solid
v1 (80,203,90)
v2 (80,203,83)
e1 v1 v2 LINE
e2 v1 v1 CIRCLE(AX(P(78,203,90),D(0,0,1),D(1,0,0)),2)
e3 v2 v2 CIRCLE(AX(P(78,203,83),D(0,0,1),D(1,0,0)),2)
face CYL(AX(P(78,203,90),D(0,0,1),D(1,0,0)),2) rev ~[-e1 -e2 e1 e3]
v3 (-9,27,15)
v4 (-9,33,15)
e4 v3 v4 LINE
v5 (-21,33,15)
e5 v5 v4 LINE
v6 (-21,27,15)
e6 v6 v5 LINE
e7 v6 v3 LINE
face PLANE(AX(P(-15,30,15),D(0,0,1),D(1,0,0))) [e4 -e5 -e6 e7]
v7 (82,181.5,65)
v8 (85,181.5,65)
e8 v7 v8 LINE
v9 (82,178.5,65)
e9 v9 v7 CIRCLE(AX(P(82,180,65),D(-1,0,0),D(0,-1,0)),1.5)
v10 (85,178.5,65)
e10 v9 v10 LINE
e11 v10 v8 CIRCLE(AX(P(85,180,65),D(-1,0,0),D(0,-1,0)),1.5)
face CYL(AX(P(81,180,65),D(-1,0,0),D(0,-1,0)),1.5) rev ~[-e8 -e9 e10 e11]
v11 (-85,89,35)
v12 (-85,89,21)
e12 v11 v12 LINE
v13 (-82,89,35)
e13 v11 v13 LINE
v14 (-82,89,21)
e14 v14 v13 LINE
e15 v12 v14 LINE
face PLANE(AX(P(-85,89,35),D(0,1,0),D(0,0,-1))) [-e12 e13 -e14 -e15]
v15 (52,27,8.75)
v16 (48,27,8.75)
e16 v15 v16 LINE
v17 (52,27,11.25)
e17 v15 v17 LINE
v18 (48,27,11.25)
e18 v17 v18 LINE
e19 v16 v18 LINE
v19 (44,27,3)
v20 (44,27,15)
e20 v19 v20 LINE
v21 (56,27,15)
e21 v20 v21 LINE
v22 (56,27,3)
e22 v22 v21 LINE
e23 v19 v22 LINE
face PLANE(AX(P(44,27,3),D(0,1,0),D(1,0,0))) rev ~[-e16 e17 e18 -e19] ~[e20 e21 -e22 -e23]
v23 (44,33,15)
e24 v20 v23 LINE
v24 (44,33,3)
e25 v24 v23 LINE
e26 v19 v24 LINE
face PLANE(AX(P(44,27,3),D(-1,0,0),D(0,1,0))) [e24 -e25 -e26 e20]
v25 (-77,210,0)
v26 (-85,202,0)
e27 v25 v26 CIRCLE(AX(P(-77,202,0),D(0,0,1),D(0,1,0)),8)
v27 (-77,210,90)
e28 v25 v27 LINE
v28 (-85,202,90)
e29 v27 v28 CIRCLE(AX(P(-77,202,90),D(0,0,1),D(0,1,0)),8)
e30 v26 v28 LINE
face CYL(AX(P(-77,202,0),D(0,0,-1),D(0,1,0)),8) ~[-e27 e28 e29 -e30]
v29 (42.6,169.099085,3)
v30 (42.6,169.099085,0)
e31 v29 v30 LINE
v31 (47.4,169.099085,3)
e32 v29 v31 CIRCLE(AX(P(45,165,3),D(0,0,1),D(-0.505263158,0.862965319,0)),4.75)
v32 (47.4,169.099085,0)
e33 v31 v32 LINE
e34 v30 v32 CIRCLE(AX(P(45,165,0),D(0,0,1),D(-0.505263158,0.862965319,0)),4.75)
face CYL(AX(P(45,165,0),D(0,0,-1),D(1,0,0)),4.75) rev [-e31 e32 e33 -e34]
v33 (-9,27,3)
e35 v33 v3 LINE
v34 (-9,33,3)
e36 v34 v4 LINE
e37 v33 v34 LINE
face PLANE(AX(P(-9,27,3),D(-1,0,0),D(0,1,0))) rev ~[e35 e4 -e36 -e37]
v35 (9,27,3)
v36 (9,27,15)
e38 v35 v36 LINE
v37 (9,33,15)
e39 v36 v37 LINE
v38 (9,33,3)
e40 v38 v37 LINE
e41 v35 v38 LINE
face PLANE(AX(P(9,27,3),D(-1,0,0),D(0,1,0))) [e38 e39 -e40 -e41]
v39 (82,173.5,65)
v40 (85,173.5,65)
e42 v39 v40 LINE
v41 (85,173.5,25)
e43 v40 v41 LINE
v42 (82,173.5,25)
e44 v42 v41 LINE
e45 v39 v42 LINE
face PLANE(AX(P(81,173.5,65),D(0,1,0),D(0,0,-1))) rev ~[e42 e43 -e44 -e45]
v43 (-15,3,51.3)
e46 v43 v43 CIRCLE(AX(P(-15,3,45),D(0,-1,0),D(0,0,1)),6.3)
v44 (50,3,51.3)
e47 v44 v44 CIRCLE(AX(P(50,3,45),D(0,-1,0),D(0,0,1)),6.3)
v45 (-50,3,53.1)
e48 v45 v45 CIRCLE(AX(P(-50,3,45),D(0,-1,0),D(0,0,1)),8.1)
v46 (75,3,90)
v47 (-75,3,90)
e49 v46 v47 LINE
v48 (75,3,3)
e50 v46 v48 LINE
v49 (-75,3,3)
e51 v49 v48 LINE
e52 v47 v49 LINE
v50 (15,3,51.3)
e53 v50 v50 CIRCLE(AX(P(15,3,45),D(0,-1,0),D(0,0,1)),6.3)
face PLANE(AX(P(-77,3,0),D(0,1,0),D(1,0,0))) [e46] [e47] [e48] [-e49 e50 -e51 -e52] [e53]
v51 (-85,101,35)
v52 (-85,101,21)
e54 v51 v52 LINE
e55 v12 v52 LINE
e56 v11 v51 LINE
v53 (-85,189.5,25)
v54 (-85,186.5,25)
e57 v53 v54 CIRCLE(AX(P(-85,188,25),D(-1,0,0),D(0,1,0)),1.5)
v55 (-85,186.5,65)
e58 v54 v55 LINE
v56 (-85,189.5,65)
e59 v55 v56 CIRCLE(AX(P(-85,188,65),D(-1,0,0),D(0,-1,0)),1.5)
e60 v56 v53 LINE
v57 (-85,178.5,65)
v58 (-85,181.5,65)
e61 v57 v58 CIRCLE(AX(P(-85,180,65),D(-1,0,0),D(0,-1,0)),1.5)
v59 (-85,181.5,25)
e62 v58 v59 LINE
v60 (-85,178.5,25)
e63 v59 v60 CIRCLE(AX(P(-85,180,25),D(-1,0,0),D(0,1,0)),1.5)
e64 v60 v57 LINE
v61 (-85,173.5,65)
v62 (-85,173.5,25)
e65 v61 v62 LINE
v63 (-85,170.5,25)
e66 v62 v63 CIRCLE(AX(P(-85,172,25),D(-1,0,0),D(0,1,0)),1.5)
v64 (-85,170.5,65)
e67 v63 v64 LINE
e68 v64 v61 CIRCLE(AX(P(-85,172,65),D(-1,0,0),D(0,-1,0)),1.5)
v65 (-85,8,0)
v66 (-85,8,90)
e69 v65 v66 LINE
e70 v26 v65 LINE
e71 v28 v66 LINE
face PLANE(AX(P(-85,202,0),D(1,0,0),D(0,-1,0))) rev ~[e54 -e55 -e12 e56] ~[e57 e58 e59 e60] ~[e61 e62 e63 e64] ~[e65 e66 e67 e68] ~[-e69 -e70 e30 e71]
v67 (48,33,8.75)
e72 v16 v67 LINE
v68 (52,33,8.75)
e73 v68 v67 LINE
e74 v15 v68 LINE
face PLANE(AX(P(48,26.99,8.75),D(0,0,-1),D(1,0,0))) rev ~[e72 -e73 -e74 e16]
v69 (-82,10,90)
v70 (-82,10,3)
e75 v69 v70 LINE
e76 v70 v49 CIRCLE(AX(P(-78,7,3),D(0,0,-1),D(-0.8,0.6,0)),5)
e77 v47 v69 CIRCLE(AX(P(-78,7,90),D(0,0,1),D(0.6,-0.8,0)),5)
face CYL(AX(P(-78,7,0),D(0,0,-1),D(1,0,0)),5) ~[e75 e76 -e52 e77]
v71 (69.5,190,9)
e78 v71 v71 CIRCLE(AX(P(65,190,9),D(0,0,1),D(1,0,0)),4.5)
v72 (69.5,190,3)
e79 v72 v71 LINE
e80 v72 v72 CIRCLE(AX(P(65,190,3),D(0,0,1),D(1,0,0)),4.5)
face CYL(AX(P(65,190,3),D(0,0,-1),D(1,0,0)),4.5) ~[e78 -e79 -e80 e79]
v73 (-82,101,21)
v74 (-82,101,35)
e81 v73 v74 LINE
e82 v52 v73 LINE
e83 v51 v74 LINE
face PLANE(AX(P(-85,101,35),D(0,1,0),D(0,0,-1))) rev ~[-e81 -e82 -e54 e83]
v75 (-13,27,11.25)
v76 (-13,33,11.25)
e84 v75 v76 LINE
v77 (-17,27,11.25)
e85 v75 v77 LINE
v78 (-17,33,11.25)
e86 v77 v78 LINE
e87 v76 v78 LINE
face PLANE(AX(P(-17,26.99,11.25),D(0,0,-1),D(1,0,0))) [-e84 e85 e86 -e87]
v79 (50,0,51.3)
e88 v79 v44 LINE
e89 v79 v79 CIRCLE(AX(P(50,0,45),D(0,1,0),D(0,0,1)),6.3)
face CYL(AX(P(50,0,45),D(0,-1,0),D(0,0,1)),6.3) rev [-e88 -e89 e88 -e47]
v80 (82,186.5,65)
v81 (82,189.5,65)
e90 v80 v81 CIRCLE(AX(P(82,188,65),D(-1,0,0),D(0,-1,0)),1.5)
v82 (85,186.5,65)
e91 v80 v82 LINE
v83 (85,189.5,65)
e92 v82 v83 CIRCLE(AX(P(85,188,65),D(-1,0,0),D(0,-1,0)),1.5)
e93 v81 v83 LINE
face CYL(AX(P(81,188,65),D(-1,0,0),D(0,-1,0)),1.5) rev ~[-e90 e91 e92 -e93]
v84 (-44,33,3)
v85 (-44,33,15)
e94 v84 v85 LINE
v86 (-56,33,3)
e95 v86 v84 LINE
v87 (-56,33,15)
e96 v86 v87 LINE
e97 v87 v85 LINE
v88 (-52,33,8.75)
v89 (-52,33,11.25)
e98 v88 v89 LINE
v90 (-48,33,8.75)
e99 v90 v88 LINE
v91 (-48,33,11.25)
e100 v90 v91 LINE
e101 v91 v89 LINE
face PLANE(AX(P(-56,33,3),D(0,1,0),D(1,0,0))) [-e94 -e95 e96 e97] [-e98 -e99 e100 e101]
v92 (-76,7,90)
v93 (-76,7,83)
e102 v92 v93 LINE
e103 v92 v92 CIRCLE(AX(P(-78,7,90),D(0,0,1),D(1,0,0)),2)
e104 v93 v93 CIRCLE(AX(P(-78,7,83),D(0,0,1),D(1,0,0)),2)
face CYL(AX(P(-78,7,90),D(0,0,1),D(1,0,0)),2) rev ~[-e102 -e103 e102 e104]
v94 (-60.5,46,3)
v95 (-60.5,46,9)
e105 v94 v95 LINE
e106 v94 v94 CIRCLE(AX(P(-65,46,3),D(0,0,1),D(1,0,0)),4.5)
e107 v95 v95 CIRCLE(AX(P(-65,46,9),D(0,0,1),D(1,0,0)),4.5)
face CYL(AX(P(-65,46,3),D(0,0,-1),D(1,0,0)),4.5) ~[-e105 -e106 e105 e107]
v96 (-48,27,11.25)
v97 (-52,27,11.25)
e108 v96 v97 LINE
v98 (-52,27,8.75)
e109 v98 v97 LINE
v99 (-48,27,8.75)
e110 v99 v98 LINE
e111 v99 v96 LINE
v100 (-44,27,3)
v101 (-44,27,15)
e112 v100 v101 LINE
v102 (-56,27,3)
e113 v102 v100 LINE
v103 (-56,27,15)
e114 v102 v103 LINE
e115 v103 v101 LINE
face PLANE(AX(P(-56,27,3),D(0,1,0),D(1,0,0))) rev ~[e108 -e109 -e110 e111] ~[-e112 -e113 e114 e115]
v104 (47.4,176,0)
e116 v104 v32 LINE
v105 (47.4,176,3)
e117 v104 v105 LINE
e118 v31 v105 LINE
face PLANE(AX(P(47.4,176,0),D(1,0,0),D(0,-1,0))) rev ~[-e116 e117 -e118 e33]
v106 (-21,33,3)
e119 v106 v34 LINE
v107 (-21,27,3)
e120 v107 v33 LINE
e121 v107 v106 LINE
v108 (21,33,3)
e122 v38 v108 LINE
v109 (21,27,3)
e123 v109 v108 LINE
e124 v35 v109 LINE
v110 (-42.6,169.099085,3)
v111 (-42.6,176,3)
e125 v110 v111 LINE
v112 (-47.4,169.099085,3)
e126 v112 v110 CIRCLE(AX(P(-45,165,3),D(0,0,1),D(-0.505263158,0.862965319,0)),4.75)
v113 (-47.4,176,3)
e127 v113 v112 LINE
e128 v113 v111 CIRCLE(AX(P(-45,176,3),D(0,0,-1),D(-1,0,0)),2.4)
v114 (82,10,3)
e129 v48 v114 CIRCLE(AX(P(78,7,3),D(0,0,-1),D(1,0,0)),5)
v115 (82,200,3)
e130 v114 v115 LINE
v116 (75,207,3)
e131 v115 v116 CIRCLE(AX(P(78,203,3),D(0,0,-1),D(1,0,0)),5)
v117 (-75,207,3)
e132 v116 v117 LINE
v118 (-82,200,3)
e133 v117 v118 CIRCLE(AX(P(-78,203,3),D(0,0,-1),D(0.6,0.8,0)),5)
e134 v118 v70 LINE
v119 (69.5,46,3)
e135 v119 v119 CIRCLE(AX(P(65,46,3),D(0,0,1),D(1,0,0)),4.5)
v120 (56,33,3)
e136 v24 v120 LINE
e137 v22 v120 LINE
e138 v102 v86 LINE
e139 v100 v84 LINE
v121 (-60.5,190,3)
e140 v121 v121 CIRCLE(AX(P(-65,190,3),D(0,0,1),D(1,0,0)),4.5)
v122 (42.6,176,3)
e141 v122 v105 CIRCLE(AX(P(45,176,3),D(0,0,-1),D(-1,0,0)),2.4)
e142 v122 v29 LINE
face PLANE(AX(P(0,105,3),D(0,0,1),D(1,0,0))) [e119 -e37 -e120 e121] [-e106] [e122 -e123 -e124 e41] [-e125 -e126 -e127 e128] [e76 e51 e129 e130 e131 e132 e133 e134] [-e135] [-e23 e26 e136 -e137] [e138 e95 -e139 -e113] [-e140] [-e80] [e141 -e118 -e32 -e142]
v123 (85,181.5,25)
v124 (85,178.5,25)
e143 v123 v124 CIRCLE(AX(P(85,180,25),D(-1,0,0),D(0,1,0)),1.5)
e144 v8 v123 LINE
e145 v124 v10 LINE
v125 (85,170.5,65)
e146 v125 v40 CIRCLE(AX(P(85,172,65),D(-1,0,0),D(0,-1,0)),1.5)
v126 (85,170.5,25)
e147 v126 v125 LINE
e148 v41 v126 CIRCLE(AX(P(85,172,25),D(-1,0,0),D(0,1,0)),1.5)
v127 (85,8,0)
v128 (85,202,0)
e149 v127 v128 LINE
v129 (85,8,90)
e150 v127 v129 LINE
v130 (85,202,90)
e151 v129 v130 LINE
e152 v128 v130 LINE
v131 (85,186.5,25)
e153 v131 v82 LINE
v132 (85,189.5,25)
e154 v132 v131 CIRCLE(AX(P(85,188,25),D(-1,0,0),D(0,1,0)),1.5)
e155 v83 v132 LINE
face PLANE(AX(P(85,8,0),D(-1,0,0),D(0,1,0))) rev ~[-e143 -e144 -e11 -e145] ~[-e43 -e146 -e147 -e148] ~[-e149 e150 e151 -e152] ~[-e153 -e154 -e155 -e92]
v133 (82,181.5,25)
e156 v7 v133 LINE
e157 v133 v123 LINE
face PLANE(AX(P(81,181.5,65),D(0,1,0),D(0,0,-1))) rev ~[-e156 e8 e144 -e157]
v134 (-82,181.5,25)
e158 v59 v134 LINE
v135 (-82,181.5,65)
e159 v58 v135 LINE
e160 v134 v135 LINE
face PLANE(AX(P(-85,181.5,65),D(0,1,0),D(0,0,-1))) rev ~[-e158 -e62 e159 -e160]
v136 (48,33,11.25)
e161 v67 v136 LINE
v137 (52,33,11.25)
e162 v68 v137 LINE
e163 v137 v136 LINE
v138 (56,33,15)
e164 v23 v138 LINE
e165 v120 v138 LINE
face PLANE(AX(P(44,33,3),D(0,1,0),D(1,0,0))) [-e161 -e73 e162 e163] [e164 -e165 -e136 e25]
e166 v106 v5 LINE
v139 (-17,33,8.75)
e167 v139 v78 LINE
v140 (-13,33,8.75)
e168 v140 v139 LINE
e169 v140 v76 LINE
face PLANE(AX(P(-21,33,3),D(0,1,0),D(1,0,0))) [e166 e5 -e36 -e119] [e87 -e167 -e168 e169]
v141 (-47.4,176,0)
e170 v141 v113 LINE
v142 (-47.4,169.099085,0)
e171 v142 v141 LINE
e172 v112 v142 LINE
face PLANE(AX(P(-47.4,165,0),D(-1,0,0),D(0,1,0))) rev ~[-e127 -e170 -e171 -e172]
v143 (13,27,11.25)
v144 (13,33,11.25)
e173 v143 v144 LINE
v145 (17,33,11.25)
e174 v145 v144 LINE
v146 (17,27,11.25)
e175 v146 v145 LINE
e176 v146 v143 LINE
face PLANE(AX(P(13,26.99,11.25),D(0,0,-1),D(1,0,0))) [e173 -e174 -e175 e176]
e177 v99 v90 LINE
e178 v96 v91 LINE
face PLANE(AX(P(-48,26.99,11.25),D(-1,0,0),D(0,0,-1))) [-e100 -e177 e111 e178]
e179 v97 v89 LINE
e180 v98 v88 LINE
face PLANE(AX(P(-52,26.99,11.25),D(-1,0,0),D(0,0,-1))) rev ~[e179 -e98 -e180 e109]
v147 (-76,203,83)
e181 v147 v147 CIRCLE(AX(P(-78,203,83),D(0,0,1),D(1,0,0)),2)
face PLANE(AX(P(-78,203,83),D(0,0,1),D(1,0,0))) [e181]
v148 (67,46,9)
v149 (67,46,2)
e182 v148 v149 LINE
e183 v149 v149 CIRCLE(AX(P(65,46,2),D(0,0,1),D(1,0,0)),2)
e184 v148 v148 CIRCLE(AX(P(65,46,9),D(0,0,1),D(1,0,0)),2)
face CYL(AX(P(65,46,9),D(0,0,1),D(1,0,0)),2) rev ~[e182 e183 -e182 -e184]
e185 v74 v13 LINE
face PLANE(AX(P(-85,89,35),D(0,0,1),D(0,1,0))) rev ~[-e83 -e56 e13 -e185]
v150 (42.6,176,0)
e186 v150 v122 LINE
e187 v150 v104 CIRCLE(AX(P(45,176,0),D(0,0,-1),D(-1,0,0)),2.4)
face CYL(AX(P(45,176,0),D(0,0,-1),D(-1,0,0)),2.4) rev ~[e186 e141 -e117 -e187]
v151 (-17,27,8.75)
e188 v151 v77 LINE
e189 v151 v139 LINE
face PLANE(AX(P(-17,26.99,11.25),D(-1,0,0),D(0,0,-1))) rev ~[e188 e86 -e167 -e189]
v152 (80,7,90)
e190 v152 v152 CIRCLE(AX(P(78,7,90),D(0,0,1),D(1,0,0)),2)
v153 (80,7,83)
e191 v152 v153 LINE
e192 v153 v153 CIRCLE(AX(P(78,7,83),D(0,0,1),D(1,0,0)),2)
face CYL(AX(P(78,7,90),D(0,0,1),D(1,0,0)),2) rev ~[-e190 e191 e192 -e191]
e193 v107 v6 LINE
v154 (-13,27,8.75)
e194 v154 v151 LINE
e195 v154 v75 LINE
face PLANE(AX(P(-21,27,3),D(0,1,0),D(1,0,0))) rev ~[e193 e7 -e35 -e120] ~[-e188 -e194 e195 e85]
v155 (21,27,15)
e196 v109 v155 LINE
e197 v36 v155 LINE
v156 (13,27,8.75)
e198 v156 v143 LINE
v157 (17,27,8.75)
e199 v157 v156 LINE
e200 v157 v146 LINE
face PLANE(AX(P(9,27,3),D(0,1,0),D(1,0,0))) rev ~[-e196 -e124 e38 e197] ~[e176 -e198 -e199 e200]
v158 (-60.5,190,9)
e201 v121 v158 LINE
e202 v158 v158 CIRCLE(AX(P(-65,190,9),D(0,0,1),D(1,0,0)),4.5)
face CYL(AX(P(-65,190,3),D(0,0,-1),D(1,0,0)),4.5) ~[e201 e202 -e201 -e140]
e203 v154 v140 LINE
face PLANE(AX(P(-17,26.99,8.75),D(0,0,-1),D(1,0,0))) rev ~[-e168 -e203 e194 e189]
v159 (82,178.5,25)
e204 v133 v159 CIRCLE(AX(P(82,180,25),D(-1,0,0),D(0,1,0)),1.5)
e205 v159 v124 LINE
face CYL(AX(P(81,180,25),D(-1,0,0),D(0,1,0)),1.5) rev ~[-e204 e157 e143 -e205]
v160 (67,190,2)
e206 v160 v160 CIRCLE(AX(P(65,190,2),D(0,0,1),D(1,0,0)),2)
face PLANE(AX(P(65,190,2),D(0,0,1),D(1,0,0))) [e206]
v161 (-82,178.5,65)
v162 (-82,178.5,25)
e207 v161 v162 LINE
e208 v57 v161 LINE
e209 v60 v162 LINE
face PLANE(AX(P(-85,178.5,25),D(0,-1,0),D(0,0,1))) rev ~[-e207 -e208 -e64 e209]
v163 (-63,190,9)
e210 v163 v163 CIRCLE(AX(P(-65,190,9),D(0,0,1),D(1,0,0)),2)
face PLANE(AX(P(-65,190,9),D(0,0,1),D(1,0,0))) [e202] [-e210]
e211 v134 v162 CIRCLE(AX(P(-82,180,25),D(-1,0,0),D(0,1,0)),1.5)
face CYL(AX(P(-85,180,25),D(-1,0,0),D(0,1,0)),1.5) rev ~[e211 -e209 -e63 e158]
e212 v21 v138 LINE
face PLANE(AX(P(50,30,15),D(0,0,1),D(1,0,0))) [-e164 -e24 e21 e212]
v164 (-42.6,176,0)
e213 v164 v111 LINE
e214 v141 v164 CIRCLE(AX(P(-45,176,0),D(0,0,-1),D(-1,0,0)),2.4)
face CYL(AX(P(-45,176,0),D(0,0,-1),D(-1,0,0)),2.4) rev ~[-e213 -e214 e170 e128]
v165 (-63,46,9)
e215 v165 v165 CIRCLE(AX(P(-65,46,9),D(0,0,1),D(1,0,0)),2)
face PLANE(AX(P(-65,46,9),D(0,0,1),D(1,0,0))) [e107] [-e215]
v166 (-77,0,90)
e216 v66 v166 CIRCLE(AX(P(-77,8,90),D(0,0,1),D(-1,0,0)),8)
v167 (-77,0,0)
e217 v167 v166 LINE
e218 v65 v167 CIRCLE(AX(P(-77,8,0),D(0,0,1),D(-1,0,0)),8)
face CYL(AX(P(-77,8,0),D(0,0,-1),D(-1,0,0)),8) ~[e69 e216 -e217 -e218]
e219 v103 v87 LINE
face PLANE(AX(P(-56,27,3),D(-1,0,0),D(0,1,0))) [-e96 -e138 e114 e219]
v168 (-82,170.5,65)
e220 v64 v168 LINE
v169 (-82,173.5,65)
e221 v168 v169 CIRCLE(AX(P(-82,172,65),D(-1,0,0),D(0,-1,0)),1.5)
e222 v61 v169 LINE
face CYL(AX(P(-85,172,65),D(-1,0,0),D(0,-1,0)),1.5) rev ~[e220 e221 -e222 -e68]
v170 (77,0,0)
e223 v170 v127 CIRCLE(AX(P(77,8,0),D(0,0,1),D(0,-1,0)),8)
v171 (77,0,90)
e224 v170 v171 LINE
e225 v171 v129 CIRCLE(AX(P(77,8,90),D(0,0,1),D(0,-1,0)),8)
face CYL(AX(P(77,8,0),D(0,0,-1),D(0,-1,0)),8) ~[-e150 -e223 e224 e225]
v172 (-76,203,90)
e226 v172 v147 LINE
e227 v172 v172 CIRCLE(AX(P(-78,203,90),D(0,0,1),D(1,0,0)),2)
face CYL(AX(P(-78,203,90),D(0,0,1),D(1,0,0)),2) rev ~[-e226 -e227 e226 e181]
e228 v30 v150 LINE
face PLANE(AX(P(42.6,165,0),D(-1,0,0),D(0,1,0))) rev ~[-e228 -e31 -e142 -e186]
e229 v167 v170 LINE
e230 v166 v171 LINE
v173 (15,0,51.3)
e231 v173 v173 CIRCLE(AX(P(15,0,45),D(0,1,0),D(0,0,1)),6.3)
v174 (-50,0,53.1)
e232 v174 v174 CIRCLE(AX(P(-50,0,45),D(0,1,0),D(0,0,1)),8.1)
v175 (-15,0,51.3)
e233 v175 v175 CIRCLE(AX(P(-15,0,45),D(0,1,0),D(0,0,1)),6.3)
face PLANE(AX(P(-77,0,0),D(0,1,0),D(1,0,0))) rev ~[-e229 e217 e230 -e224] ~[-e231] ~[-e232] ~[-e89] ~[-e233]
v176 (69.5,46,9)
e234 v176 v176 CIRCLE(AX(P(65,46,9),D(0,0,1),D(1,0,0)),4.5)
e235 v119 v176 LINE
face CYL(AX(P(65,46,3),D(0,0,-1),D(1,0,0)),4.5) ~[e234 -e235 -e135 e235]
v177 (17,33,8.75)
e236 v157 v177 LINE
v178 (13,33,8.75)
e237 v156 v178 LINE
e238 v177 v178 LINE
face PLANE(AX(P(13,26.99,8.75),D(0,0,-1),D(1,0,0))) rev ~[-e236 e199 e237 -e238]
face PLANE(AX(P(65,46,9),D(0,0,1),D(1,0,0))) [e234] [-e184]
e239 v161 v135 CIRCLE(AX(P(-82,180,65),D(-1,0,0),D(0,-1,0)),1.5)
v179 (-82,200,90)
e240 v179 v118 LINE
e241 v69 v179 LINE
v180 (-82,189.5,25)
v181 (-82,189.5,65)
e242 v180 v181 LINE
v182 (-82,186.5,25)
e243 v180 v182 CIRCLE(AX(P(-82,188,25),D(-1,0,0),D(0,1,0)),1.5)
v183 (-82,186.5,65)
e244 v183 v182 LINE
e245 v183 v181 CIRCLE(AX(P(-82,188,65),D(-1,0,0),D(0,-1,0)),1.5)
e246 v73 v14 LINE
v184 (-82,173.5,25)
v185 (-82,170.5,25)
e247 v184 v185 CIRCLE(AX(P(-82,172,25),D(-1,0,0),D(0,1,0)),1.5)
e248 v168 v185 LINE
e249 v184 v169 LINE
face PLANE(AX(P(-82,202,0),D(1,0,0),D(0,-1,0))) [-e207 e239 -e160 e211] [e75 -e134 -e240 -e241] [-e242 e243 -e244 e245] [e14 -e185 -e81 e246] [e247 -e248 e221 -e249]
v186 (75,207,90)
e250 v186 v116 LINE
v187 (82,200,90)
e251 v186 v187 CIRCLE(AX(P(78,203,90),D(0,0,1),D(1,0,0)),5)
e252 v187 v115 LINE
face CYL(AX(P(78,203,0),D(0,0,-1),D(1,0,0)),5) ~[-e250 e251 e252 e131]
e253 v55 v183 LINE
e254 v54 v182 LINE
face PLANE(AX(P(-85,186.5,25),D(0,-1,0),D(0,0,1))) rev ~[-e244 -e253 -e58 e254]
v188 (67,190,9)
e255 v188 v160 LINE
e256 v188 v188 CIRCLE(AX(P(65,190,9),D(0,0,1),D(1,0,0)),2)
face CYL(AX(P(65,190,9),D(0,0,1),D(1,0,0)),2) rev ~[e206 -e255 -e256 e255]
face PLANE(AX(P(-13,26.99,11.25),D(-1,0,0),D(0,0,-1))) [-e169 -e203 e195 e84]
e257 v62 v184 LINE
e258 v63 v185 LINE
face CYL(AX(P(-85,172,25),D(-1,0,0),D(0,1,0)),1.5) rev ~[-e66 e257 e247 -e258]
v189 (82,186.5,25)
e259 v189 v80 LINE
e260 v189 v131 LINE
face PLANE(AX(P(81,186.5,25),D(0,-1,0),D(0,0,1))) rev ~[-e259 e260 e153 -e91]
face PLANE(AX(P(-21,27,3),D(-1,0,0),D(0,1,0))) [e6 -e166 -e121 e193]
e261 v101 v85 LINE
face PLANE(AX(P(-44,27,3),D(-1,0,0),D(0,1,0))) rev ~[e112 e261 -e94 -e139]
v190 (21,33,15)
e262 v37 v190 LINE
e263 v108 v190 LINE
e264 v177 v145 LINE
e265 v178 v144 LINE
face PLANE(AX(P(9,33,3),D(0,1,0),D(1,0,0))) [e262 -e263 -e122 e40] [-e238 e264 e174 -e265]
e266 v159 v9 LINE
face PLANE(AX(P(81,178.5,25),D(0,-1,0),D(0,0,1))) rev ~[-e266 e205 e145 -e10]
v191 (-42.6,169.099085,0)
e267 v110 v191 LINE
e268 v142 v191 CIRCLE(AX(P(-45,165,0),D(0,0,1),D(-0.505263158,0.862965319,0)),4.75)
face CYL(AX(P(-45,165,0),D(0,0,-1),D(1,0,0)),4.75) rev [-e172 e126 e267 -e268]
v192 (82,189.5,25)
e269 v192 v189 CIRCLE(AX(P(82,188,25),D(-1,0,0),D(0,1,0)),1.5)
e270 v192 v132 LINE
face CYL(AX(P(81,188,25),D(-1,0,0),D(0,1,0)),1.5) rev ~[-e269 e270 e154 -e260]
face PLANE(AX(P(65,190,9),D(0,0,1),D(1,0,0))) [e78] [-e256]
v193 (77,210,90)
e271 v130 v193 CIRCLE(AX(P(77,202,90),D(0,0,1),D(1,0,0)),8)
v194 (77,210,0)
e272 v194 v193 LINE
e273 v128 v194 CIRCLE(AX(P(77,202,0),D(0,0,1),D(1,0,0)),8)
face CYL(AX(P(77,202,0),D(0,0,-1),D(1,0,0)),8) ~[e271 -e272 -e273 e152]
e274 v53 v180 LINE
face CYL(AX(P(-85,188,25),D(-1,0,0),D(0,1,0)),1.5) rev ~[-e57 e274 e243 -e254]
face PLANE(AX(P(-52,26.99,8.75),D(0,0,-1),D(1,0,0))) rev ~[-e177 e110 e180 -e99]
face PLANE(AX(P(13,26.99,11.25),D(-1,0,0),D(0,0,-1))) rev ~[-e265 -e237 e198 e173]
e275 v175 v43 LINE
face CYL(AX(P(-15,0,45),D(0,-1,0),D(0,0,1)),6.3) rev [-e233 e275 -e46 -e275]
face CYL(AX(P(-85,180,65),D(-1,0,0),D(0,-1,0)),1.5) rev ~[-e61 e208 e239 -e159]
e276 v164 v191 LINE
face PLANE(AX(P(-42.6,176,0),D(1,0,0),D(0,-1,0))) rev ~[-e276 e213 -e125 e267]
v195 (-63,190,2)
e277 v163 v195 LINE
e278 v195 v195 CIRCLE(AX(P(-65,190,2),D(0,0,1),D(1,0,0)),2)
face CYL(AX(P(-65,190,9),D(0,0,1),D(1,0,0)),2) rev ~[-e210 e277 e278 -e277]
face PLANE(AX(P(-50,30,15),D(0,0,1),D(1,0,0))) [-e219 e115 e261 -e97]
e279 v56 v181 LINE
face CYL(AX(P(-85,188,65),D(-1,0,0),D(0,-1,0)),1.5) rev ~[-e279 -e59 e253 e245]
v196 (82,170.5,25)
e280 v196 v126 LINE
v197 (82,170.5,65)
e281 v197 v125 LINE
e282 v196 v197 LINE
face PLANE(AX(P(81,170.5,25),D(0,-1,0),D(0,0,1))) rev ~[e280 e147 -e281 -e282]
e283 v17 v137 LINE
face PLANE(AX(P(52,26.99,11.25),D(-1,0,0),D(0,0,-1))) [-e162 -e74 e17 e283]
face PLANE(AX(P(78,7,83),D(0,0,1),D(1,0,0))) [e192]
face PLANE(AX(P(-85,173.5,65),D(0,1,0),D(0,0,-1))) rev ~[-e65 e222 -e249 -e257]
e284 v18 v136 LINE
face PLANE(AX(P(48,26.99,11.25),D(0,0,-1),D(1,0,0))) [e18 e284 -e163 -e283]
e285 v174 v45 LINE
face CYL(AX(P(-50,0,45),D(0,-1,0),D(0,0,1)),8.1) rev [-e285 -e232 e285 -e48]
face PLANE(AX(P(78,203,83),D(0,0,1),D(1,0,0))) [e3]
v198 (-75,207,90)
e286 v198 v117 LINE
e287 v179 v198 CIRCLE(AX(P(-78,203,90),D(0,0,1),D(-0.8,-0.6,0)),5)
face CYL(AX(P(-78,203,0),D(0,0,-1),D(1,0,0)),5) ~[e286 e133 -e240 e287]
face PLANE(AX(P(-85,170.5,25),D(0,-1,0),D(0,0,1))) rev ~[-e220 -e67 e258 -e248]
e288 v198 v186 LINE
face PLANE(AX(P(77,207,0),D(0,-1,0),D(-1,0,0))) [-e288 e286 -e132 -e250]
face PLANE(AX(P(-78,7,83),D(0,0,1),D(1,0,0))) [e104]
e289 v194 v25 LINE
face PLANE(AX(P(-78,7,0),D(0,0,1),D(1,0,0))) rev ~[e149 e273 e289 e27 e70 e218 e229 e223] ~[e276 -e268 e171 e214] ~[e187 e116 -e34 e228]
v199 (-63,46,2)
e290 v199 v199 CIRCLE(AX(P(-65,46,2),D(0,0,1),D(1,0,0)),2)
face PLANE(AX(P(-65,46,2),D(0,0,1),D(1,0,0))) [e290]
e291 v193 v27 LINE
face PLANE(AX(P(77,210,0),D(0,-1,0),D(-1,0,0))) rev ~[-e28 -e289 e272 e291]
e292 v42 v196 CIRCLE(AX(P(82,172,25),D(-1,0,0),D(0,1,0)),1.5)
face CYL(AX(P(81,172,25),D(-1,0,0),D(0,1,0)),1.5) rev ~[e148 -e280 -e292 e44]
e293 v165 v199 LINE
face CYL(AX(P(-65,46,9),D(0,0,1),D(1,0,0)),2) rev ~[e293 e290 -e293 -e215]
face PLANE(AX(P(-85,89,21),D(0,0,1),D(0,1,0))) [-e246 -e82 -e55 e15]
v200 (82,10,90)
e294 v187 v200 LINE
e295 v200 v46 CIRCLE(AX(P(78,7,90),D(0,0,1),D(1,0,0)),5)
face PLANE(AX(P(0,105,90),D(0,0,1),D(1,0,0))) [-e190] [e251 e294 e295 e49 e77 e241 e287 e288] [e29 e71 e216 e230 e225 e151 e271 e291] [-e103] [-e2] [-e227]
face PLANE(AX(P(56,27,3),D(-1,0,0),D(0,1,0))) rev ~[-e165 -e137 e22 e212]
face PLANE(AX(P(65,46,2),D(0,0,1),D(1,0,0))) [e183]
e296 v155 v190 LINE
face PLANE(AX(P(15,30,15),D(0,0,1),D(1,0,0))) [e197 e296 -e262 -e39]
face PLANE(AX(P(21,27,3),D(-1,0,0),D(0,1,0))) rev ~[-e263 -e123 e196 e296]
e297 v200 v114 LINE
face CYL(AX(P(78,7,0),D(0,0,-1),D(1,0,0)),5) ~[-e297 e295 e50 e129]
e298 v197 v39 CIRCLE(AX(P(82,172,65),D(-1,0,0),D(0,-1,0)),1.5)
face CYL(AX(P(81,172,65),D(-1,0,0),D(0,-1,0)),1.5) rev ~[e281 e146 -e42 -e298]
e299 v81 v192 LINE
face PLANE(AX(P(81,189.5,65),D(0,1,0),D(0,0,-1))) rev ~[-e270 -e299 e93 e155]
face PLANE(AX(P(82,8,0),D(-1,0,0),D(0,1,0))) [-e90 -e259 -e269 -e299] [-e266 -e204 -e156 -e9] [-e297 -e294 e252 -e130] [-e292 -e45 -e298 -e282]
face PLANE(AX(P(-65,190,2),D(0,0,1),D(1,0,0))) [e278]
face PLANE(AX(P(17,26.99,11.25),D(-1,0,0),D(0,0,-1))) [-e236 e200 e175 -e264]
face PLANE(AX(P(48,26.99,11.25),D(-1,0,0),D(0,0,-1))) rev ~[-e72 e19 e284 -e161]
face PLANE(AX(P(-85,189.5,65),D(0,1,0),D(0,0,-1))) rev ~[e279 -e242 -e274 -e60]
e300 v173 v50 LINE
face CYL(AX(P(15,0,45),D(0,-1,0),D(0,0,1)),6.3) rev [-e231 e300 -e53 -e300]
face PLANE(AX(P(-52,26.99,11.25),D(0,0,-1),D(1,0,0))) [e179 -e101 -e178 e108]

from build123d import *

# Parameters (mm, degrees)
BLOCK_DEPTH                    = 90
SHELL1_T                       = -3
SKETCH2_R                      = 5
CORNER_COLUMNS_DEPTH           = 90
SKETCH3_R                      = 2
FRONT_PANEL_INSERT_HOLES_DEPTH = 7
SKETCH4_R                      = 4.5
PLATE_BOSSES_DEPTH             = 6
SKETCH5_R                      = 2
PLATE_INSERT_HOLES_DEPTH       = 7
SKETCH6_R                      = 8.1
SKETCH6_R_2                    = 6.3
CABLE_GLAND_HOLES_DEPTH        = 4
SKETCH7_W                      = 12
SKETCH7_H                      = 6
CABLE_TIE_BARS_DEPTH           = 12
SKETCH8_W                      = 4
SKETCH8_H                      = 2.5
CABLE_TIE_SLOTS_DEPTH          = 6.02
SKETCH9_W                      = 14
SKETCH9_H                      = 12
USB_ACCESS_DEPTH               = 4
VENTS_LEFT_DEPTH               = 4
VENTS_START                    = -4
VENTS_RIGHT_DEPTH              = 4
SKETCH12_R                     = 4.75
KEYHOLE_HEADS_DEPTH            = 4
KEYHOLE_SLOTS_DEPTH            = 4


with BuildPart() as part:
    # Sketch1 → Block (new body)
    with BuildSketch(Plane.XY):
        with BuildLine():
            Line((-77, 0), (77, 0))
            ThreePointArc((77, 0), (82.656854249, 2.343145751), (85, 8))
            Line((85, 8), (85, 202))
            ThreePointArc((85, 202), (82.656854249, 207.656854249), (77, 210))
            Line((77, 210), (-77, 210))
            ThreePointArc((-77, 210), (-82.656854249, 207.656854249), (-85, 202))
            Line((-85, 202), (-85, 8))
            ThreePointArc((-85, 8), (-82.656854249, 2.343145751), (-77, 0))
        make_face()
    extrude(amount=BLOCK_DEPTH)

    # Shell1
    shell1_openings = [part.faces().sort_by_distance(p)[0] for p in [
        (0, 105, 90),
    ]]
    offset(amount=SHELL1_T, openings=shell1_openings, kind=Kind.INTERSECTION)

    # Sketch2 → Corner columns (add)
    with BuildSketch(Plane.XY):
        with Locations((-78, 7)):
            Circle(SKETCH2_R)
        with Locations((78, 7)):
            Circle(SKETCH2_R)
        with Locations((-78, 203)):
            Circle(SKETCH2_R)
        with Locations((78, 203)):
            Circle(SKETCH2_R)
    extrude(amount=CORNER_COLUMNS_DEPTH)

    # Sketch3 → Front panel insert holes (cut)
    with BuildSketch(Plane.XY.offset(90)):
        with Locations((-78, 7)):
            Circle(SKETCH3_R)
        with Locations((78, 7)):
            Circle(SKETCH3_R)
        with Locations((-78, 203)):
            Circle(SKETCH3_R)
        with Locations((78, 203)):
            Circle(SKETCH3_R)
    extrude(amount=-FRONT_PANEL_INSERT_HOLES_DEPTH, mode=Mode.SUBTRACT)

    # Sketch4 → Plate bosses (add)
    with BuildSketch(Plane.XY.offset(3)):
        with Locations((-65, 46)):
            Circle(SKETCH4_R)
        with Locations((65, 46)):
            Circle(SKETCH4_R)
        with Locations((-65, 190)):
            Circle(SKETCH4_R)
        with Locations((65, 190)):
            Circle(SKETCH4_R)
    extrude(amount=PLATE_BOSSES_DEPTH)

    # Sketch5 → Plate insert holes (cut)
    with BuildSketch(Plane.XY.offset(9)):
        with Locations((-65, 46)):
            Circle(SKETCH5_R)
        with Locations((65, 46)):
            Circle(SKETCH5_R)
        with Locations((-65, 190)):
            Circle(SKETCH5_R)
        with Locations((65, 190)):
            Circle(SKETCH5_R)
    extrude(amount=-PLATE_INSERT_HOLES_DEPTH, mode=Mode.SUBTRACT)

    # Sketch6 → Cable gland holes (cut)
    with BuildSketch(Plane(origin=(0, 0, 0), x_dir=(1, 0, 0), z_dir=(0, 1, 0))):
        with Locations(Location((-50, -45, 0), (0, 0, 270))):
            Circle(SKETCH6_R)
        with Locations(Location((-15, -45, 0), (0, 0, 270))):
            Circle(SKETCH6_R_2)
        with Locations(Location((15, -45, 0), (0, 0, 270))):
            Circle(SKETCH6_R_2)
        with Locations(Location((50, -45, 0), (0, 0, 270))):
            Circle(SKETCH6_R_2)
    extrude(amount=CABLE_GLAND_HOLES_DEPTH, mode=Mode.SUBTRACT)

    # Sketch7 → Cable tie bars (add)
    with BuildSketch(Plane.XY.offset(3)):
        with Locations((-50, 30)):
            Rectangle(SKETCH7_W, SKETCH7_H)
        with Locations((-15, 30)):
            Rectangle(SKETCH7_W, SKETCH7_H)
        with Locations((15, 30)):
            Rectangle(SKETCH7_W, SKETCH7_H)
        with Locations((50, 30)):
            Rectangle(SKETCH7_W, SKETCH7_H)
    extrude(amount=CABLE_TIE_BARS_DEPTH)

    # Sketch8 → Cable tie slots (cut)
    with BuildSketch(Plane(origin=(0, 26.99, 0), x_dir=(1, 0, 0), z_dir=(0, 1, 0))):
        with Locations((-50, -10)):
            Rectangle(SKETCH8_W, SKETCH8_H)
        with Locations((-15, -10)):
            Rectangle(SKETCH8_W, SKETCH8_H)
        with Locations((15, -10)):
            Rectangle(SKETCH8_W, SKETCH8_H)
        with Locations((50, -10)):
            Rectangle(SKETCH8_W, SKETCH8_H)
    extrude(amount=CABLE_TIE_SLOTS_DEPTH, mode=Mode.SUBTRACT)

    # Sketch9 → USB access (cut)
    with BuildSketch(Plane(origin=(-85, 0, 0), x_dir=(0, 0, -1), z_dir=(1, 0, 0))):
        with Locations((-28, 95)):
            Rectangle(SKETCH9_W, SKETCH9_H)
    extrude(amount=USB_ACCESS_DEPTH, mode=Mode.SUBTRACT)

    # Sketch10 → Vents left (cut)
    with BuildSketch(Plane(origin=(-85, 0, 0), x_dir=(0, 0, -1), z_dir=(1, 0, 0))):
        with BuildLine():
            Line((-25, 170.5), (-65, 170.5))
            ThreePointArc((-65, 170.5), (-66.5, 172), (-65, 173.5))
            Line((-65, 173.5), (-25, 173.5))
            ThreePointArc((-25, 173.5), (-23.5, 172), (-25, 170.5))
        make_face()
        with BuildLine():
            Line((-25, 178.5), (-65, 178.5))
            ThreePointArc((-65, 178.5), (-66.5, 180), (-65, 181.5))
            Line((-65, 181.5), (-25, 181.5))
            ThreePointArc((-25, 181.5), (-23.5, 180), (-25, 178.5))
        make_face()
        with BuildLine():
            Line((-25, 186.5), (-65, 186.5))
            ThreePointArc((-65, 186.5), (-66.5, 188), (-65, 189.5))
            Line((-65, 189.5), (-25, 189.5))
            ThreePointArc((-25, 189.5), (-23.5, 188), (-25, 186.5))
        make_face()
    extrude(amount=VENTS_LEFT_DEPTH, mode=Mode.SUBTRACT)

    # Sketch11 → Vents right (cut)
    with BuildSketch(Plane(origin=(85, 0, 0), x_dir=(0, 0, -1), z_dir=(1, 0, 0)).offset(VENTS_START)):
        with BuildLine():
            Line((-25, 170.5), (-65, 170.5))
            ThreePointArc((-65, 170.5), (-66.5, 172), (-65, 173.5))
            Line((-65, 173.5), (-25, 173.5))
            ThreePointArc((-25, 173.5), (-23.5, 172), (-25, 170.5))
        make_face()
        with BuildLine():
            Line((-25, 178.5), (-65, 178.5))
            ThreePointArc((-65, 178.5), (-66.5, 180), (-65, 181.5))
            Line((-65, 181.5), (-25, 181.5))
            ThreePointArc((-25, 181.5), (-23.5, 180), (-25, 178.5))
        make_face()
        with BuildLine():
            Line((-25, 186.5), (-65, 186.5))
            ThreePointArc((-65, 186.5), (-66.5, 188), (-65, 189.5))
            Line((-65, 189.5), (-25, 189.5))
            ThreePointArc((-25, 189.5), (-23.5, 188), (-25, 186.5))
        make_face()
    extrude(amount=VENTS_RIGHT_DEPTH, mode=Mode.SUBTRACT)

    # Sketch12 → Keyhole heads (cut)
    with BuildSketch(Plane.XY):
        with Locations((-45, 165)):
            Circle(SKETCH12_R)
        with Locations((45, 165)):
            Circle(SKETCH12_R)
    extrude(amount=KEYHOLE_HEADS_DEPTH, mode=Mode.SUBTRACT)

    # Sketch13 → Keyhole slots (cut)
    with BuildSketch(Plane.XY):
        with BuildLine():
            Line((-47.4, 165), (-47.4, 176))
            ThreePointArc((-47.4, 176), (-45, 178.4), (-42.6, 176))
            Line((-42.6, 176), (-42.6, 165))
            ThreePointArc((-42.6, 165), (-45, 162.6), (-47.4, 165))
        make_face()
        with BuildLine():
            Line((42.6, 165), (42.6, 176))
            ThreePointArc((42.6, 176), (45, 178.4), (47.4, 176))
            Line((47.4, 176), (47.4, 165))
            ThreePointArc((47.4, 165), (45, 162.6), (42.6, 165))
        make_face()
    extrude(amount=KEYHOLE_SLOTS_DEPTH, mode=Mode.SUBTRACT)


solid = part.part
